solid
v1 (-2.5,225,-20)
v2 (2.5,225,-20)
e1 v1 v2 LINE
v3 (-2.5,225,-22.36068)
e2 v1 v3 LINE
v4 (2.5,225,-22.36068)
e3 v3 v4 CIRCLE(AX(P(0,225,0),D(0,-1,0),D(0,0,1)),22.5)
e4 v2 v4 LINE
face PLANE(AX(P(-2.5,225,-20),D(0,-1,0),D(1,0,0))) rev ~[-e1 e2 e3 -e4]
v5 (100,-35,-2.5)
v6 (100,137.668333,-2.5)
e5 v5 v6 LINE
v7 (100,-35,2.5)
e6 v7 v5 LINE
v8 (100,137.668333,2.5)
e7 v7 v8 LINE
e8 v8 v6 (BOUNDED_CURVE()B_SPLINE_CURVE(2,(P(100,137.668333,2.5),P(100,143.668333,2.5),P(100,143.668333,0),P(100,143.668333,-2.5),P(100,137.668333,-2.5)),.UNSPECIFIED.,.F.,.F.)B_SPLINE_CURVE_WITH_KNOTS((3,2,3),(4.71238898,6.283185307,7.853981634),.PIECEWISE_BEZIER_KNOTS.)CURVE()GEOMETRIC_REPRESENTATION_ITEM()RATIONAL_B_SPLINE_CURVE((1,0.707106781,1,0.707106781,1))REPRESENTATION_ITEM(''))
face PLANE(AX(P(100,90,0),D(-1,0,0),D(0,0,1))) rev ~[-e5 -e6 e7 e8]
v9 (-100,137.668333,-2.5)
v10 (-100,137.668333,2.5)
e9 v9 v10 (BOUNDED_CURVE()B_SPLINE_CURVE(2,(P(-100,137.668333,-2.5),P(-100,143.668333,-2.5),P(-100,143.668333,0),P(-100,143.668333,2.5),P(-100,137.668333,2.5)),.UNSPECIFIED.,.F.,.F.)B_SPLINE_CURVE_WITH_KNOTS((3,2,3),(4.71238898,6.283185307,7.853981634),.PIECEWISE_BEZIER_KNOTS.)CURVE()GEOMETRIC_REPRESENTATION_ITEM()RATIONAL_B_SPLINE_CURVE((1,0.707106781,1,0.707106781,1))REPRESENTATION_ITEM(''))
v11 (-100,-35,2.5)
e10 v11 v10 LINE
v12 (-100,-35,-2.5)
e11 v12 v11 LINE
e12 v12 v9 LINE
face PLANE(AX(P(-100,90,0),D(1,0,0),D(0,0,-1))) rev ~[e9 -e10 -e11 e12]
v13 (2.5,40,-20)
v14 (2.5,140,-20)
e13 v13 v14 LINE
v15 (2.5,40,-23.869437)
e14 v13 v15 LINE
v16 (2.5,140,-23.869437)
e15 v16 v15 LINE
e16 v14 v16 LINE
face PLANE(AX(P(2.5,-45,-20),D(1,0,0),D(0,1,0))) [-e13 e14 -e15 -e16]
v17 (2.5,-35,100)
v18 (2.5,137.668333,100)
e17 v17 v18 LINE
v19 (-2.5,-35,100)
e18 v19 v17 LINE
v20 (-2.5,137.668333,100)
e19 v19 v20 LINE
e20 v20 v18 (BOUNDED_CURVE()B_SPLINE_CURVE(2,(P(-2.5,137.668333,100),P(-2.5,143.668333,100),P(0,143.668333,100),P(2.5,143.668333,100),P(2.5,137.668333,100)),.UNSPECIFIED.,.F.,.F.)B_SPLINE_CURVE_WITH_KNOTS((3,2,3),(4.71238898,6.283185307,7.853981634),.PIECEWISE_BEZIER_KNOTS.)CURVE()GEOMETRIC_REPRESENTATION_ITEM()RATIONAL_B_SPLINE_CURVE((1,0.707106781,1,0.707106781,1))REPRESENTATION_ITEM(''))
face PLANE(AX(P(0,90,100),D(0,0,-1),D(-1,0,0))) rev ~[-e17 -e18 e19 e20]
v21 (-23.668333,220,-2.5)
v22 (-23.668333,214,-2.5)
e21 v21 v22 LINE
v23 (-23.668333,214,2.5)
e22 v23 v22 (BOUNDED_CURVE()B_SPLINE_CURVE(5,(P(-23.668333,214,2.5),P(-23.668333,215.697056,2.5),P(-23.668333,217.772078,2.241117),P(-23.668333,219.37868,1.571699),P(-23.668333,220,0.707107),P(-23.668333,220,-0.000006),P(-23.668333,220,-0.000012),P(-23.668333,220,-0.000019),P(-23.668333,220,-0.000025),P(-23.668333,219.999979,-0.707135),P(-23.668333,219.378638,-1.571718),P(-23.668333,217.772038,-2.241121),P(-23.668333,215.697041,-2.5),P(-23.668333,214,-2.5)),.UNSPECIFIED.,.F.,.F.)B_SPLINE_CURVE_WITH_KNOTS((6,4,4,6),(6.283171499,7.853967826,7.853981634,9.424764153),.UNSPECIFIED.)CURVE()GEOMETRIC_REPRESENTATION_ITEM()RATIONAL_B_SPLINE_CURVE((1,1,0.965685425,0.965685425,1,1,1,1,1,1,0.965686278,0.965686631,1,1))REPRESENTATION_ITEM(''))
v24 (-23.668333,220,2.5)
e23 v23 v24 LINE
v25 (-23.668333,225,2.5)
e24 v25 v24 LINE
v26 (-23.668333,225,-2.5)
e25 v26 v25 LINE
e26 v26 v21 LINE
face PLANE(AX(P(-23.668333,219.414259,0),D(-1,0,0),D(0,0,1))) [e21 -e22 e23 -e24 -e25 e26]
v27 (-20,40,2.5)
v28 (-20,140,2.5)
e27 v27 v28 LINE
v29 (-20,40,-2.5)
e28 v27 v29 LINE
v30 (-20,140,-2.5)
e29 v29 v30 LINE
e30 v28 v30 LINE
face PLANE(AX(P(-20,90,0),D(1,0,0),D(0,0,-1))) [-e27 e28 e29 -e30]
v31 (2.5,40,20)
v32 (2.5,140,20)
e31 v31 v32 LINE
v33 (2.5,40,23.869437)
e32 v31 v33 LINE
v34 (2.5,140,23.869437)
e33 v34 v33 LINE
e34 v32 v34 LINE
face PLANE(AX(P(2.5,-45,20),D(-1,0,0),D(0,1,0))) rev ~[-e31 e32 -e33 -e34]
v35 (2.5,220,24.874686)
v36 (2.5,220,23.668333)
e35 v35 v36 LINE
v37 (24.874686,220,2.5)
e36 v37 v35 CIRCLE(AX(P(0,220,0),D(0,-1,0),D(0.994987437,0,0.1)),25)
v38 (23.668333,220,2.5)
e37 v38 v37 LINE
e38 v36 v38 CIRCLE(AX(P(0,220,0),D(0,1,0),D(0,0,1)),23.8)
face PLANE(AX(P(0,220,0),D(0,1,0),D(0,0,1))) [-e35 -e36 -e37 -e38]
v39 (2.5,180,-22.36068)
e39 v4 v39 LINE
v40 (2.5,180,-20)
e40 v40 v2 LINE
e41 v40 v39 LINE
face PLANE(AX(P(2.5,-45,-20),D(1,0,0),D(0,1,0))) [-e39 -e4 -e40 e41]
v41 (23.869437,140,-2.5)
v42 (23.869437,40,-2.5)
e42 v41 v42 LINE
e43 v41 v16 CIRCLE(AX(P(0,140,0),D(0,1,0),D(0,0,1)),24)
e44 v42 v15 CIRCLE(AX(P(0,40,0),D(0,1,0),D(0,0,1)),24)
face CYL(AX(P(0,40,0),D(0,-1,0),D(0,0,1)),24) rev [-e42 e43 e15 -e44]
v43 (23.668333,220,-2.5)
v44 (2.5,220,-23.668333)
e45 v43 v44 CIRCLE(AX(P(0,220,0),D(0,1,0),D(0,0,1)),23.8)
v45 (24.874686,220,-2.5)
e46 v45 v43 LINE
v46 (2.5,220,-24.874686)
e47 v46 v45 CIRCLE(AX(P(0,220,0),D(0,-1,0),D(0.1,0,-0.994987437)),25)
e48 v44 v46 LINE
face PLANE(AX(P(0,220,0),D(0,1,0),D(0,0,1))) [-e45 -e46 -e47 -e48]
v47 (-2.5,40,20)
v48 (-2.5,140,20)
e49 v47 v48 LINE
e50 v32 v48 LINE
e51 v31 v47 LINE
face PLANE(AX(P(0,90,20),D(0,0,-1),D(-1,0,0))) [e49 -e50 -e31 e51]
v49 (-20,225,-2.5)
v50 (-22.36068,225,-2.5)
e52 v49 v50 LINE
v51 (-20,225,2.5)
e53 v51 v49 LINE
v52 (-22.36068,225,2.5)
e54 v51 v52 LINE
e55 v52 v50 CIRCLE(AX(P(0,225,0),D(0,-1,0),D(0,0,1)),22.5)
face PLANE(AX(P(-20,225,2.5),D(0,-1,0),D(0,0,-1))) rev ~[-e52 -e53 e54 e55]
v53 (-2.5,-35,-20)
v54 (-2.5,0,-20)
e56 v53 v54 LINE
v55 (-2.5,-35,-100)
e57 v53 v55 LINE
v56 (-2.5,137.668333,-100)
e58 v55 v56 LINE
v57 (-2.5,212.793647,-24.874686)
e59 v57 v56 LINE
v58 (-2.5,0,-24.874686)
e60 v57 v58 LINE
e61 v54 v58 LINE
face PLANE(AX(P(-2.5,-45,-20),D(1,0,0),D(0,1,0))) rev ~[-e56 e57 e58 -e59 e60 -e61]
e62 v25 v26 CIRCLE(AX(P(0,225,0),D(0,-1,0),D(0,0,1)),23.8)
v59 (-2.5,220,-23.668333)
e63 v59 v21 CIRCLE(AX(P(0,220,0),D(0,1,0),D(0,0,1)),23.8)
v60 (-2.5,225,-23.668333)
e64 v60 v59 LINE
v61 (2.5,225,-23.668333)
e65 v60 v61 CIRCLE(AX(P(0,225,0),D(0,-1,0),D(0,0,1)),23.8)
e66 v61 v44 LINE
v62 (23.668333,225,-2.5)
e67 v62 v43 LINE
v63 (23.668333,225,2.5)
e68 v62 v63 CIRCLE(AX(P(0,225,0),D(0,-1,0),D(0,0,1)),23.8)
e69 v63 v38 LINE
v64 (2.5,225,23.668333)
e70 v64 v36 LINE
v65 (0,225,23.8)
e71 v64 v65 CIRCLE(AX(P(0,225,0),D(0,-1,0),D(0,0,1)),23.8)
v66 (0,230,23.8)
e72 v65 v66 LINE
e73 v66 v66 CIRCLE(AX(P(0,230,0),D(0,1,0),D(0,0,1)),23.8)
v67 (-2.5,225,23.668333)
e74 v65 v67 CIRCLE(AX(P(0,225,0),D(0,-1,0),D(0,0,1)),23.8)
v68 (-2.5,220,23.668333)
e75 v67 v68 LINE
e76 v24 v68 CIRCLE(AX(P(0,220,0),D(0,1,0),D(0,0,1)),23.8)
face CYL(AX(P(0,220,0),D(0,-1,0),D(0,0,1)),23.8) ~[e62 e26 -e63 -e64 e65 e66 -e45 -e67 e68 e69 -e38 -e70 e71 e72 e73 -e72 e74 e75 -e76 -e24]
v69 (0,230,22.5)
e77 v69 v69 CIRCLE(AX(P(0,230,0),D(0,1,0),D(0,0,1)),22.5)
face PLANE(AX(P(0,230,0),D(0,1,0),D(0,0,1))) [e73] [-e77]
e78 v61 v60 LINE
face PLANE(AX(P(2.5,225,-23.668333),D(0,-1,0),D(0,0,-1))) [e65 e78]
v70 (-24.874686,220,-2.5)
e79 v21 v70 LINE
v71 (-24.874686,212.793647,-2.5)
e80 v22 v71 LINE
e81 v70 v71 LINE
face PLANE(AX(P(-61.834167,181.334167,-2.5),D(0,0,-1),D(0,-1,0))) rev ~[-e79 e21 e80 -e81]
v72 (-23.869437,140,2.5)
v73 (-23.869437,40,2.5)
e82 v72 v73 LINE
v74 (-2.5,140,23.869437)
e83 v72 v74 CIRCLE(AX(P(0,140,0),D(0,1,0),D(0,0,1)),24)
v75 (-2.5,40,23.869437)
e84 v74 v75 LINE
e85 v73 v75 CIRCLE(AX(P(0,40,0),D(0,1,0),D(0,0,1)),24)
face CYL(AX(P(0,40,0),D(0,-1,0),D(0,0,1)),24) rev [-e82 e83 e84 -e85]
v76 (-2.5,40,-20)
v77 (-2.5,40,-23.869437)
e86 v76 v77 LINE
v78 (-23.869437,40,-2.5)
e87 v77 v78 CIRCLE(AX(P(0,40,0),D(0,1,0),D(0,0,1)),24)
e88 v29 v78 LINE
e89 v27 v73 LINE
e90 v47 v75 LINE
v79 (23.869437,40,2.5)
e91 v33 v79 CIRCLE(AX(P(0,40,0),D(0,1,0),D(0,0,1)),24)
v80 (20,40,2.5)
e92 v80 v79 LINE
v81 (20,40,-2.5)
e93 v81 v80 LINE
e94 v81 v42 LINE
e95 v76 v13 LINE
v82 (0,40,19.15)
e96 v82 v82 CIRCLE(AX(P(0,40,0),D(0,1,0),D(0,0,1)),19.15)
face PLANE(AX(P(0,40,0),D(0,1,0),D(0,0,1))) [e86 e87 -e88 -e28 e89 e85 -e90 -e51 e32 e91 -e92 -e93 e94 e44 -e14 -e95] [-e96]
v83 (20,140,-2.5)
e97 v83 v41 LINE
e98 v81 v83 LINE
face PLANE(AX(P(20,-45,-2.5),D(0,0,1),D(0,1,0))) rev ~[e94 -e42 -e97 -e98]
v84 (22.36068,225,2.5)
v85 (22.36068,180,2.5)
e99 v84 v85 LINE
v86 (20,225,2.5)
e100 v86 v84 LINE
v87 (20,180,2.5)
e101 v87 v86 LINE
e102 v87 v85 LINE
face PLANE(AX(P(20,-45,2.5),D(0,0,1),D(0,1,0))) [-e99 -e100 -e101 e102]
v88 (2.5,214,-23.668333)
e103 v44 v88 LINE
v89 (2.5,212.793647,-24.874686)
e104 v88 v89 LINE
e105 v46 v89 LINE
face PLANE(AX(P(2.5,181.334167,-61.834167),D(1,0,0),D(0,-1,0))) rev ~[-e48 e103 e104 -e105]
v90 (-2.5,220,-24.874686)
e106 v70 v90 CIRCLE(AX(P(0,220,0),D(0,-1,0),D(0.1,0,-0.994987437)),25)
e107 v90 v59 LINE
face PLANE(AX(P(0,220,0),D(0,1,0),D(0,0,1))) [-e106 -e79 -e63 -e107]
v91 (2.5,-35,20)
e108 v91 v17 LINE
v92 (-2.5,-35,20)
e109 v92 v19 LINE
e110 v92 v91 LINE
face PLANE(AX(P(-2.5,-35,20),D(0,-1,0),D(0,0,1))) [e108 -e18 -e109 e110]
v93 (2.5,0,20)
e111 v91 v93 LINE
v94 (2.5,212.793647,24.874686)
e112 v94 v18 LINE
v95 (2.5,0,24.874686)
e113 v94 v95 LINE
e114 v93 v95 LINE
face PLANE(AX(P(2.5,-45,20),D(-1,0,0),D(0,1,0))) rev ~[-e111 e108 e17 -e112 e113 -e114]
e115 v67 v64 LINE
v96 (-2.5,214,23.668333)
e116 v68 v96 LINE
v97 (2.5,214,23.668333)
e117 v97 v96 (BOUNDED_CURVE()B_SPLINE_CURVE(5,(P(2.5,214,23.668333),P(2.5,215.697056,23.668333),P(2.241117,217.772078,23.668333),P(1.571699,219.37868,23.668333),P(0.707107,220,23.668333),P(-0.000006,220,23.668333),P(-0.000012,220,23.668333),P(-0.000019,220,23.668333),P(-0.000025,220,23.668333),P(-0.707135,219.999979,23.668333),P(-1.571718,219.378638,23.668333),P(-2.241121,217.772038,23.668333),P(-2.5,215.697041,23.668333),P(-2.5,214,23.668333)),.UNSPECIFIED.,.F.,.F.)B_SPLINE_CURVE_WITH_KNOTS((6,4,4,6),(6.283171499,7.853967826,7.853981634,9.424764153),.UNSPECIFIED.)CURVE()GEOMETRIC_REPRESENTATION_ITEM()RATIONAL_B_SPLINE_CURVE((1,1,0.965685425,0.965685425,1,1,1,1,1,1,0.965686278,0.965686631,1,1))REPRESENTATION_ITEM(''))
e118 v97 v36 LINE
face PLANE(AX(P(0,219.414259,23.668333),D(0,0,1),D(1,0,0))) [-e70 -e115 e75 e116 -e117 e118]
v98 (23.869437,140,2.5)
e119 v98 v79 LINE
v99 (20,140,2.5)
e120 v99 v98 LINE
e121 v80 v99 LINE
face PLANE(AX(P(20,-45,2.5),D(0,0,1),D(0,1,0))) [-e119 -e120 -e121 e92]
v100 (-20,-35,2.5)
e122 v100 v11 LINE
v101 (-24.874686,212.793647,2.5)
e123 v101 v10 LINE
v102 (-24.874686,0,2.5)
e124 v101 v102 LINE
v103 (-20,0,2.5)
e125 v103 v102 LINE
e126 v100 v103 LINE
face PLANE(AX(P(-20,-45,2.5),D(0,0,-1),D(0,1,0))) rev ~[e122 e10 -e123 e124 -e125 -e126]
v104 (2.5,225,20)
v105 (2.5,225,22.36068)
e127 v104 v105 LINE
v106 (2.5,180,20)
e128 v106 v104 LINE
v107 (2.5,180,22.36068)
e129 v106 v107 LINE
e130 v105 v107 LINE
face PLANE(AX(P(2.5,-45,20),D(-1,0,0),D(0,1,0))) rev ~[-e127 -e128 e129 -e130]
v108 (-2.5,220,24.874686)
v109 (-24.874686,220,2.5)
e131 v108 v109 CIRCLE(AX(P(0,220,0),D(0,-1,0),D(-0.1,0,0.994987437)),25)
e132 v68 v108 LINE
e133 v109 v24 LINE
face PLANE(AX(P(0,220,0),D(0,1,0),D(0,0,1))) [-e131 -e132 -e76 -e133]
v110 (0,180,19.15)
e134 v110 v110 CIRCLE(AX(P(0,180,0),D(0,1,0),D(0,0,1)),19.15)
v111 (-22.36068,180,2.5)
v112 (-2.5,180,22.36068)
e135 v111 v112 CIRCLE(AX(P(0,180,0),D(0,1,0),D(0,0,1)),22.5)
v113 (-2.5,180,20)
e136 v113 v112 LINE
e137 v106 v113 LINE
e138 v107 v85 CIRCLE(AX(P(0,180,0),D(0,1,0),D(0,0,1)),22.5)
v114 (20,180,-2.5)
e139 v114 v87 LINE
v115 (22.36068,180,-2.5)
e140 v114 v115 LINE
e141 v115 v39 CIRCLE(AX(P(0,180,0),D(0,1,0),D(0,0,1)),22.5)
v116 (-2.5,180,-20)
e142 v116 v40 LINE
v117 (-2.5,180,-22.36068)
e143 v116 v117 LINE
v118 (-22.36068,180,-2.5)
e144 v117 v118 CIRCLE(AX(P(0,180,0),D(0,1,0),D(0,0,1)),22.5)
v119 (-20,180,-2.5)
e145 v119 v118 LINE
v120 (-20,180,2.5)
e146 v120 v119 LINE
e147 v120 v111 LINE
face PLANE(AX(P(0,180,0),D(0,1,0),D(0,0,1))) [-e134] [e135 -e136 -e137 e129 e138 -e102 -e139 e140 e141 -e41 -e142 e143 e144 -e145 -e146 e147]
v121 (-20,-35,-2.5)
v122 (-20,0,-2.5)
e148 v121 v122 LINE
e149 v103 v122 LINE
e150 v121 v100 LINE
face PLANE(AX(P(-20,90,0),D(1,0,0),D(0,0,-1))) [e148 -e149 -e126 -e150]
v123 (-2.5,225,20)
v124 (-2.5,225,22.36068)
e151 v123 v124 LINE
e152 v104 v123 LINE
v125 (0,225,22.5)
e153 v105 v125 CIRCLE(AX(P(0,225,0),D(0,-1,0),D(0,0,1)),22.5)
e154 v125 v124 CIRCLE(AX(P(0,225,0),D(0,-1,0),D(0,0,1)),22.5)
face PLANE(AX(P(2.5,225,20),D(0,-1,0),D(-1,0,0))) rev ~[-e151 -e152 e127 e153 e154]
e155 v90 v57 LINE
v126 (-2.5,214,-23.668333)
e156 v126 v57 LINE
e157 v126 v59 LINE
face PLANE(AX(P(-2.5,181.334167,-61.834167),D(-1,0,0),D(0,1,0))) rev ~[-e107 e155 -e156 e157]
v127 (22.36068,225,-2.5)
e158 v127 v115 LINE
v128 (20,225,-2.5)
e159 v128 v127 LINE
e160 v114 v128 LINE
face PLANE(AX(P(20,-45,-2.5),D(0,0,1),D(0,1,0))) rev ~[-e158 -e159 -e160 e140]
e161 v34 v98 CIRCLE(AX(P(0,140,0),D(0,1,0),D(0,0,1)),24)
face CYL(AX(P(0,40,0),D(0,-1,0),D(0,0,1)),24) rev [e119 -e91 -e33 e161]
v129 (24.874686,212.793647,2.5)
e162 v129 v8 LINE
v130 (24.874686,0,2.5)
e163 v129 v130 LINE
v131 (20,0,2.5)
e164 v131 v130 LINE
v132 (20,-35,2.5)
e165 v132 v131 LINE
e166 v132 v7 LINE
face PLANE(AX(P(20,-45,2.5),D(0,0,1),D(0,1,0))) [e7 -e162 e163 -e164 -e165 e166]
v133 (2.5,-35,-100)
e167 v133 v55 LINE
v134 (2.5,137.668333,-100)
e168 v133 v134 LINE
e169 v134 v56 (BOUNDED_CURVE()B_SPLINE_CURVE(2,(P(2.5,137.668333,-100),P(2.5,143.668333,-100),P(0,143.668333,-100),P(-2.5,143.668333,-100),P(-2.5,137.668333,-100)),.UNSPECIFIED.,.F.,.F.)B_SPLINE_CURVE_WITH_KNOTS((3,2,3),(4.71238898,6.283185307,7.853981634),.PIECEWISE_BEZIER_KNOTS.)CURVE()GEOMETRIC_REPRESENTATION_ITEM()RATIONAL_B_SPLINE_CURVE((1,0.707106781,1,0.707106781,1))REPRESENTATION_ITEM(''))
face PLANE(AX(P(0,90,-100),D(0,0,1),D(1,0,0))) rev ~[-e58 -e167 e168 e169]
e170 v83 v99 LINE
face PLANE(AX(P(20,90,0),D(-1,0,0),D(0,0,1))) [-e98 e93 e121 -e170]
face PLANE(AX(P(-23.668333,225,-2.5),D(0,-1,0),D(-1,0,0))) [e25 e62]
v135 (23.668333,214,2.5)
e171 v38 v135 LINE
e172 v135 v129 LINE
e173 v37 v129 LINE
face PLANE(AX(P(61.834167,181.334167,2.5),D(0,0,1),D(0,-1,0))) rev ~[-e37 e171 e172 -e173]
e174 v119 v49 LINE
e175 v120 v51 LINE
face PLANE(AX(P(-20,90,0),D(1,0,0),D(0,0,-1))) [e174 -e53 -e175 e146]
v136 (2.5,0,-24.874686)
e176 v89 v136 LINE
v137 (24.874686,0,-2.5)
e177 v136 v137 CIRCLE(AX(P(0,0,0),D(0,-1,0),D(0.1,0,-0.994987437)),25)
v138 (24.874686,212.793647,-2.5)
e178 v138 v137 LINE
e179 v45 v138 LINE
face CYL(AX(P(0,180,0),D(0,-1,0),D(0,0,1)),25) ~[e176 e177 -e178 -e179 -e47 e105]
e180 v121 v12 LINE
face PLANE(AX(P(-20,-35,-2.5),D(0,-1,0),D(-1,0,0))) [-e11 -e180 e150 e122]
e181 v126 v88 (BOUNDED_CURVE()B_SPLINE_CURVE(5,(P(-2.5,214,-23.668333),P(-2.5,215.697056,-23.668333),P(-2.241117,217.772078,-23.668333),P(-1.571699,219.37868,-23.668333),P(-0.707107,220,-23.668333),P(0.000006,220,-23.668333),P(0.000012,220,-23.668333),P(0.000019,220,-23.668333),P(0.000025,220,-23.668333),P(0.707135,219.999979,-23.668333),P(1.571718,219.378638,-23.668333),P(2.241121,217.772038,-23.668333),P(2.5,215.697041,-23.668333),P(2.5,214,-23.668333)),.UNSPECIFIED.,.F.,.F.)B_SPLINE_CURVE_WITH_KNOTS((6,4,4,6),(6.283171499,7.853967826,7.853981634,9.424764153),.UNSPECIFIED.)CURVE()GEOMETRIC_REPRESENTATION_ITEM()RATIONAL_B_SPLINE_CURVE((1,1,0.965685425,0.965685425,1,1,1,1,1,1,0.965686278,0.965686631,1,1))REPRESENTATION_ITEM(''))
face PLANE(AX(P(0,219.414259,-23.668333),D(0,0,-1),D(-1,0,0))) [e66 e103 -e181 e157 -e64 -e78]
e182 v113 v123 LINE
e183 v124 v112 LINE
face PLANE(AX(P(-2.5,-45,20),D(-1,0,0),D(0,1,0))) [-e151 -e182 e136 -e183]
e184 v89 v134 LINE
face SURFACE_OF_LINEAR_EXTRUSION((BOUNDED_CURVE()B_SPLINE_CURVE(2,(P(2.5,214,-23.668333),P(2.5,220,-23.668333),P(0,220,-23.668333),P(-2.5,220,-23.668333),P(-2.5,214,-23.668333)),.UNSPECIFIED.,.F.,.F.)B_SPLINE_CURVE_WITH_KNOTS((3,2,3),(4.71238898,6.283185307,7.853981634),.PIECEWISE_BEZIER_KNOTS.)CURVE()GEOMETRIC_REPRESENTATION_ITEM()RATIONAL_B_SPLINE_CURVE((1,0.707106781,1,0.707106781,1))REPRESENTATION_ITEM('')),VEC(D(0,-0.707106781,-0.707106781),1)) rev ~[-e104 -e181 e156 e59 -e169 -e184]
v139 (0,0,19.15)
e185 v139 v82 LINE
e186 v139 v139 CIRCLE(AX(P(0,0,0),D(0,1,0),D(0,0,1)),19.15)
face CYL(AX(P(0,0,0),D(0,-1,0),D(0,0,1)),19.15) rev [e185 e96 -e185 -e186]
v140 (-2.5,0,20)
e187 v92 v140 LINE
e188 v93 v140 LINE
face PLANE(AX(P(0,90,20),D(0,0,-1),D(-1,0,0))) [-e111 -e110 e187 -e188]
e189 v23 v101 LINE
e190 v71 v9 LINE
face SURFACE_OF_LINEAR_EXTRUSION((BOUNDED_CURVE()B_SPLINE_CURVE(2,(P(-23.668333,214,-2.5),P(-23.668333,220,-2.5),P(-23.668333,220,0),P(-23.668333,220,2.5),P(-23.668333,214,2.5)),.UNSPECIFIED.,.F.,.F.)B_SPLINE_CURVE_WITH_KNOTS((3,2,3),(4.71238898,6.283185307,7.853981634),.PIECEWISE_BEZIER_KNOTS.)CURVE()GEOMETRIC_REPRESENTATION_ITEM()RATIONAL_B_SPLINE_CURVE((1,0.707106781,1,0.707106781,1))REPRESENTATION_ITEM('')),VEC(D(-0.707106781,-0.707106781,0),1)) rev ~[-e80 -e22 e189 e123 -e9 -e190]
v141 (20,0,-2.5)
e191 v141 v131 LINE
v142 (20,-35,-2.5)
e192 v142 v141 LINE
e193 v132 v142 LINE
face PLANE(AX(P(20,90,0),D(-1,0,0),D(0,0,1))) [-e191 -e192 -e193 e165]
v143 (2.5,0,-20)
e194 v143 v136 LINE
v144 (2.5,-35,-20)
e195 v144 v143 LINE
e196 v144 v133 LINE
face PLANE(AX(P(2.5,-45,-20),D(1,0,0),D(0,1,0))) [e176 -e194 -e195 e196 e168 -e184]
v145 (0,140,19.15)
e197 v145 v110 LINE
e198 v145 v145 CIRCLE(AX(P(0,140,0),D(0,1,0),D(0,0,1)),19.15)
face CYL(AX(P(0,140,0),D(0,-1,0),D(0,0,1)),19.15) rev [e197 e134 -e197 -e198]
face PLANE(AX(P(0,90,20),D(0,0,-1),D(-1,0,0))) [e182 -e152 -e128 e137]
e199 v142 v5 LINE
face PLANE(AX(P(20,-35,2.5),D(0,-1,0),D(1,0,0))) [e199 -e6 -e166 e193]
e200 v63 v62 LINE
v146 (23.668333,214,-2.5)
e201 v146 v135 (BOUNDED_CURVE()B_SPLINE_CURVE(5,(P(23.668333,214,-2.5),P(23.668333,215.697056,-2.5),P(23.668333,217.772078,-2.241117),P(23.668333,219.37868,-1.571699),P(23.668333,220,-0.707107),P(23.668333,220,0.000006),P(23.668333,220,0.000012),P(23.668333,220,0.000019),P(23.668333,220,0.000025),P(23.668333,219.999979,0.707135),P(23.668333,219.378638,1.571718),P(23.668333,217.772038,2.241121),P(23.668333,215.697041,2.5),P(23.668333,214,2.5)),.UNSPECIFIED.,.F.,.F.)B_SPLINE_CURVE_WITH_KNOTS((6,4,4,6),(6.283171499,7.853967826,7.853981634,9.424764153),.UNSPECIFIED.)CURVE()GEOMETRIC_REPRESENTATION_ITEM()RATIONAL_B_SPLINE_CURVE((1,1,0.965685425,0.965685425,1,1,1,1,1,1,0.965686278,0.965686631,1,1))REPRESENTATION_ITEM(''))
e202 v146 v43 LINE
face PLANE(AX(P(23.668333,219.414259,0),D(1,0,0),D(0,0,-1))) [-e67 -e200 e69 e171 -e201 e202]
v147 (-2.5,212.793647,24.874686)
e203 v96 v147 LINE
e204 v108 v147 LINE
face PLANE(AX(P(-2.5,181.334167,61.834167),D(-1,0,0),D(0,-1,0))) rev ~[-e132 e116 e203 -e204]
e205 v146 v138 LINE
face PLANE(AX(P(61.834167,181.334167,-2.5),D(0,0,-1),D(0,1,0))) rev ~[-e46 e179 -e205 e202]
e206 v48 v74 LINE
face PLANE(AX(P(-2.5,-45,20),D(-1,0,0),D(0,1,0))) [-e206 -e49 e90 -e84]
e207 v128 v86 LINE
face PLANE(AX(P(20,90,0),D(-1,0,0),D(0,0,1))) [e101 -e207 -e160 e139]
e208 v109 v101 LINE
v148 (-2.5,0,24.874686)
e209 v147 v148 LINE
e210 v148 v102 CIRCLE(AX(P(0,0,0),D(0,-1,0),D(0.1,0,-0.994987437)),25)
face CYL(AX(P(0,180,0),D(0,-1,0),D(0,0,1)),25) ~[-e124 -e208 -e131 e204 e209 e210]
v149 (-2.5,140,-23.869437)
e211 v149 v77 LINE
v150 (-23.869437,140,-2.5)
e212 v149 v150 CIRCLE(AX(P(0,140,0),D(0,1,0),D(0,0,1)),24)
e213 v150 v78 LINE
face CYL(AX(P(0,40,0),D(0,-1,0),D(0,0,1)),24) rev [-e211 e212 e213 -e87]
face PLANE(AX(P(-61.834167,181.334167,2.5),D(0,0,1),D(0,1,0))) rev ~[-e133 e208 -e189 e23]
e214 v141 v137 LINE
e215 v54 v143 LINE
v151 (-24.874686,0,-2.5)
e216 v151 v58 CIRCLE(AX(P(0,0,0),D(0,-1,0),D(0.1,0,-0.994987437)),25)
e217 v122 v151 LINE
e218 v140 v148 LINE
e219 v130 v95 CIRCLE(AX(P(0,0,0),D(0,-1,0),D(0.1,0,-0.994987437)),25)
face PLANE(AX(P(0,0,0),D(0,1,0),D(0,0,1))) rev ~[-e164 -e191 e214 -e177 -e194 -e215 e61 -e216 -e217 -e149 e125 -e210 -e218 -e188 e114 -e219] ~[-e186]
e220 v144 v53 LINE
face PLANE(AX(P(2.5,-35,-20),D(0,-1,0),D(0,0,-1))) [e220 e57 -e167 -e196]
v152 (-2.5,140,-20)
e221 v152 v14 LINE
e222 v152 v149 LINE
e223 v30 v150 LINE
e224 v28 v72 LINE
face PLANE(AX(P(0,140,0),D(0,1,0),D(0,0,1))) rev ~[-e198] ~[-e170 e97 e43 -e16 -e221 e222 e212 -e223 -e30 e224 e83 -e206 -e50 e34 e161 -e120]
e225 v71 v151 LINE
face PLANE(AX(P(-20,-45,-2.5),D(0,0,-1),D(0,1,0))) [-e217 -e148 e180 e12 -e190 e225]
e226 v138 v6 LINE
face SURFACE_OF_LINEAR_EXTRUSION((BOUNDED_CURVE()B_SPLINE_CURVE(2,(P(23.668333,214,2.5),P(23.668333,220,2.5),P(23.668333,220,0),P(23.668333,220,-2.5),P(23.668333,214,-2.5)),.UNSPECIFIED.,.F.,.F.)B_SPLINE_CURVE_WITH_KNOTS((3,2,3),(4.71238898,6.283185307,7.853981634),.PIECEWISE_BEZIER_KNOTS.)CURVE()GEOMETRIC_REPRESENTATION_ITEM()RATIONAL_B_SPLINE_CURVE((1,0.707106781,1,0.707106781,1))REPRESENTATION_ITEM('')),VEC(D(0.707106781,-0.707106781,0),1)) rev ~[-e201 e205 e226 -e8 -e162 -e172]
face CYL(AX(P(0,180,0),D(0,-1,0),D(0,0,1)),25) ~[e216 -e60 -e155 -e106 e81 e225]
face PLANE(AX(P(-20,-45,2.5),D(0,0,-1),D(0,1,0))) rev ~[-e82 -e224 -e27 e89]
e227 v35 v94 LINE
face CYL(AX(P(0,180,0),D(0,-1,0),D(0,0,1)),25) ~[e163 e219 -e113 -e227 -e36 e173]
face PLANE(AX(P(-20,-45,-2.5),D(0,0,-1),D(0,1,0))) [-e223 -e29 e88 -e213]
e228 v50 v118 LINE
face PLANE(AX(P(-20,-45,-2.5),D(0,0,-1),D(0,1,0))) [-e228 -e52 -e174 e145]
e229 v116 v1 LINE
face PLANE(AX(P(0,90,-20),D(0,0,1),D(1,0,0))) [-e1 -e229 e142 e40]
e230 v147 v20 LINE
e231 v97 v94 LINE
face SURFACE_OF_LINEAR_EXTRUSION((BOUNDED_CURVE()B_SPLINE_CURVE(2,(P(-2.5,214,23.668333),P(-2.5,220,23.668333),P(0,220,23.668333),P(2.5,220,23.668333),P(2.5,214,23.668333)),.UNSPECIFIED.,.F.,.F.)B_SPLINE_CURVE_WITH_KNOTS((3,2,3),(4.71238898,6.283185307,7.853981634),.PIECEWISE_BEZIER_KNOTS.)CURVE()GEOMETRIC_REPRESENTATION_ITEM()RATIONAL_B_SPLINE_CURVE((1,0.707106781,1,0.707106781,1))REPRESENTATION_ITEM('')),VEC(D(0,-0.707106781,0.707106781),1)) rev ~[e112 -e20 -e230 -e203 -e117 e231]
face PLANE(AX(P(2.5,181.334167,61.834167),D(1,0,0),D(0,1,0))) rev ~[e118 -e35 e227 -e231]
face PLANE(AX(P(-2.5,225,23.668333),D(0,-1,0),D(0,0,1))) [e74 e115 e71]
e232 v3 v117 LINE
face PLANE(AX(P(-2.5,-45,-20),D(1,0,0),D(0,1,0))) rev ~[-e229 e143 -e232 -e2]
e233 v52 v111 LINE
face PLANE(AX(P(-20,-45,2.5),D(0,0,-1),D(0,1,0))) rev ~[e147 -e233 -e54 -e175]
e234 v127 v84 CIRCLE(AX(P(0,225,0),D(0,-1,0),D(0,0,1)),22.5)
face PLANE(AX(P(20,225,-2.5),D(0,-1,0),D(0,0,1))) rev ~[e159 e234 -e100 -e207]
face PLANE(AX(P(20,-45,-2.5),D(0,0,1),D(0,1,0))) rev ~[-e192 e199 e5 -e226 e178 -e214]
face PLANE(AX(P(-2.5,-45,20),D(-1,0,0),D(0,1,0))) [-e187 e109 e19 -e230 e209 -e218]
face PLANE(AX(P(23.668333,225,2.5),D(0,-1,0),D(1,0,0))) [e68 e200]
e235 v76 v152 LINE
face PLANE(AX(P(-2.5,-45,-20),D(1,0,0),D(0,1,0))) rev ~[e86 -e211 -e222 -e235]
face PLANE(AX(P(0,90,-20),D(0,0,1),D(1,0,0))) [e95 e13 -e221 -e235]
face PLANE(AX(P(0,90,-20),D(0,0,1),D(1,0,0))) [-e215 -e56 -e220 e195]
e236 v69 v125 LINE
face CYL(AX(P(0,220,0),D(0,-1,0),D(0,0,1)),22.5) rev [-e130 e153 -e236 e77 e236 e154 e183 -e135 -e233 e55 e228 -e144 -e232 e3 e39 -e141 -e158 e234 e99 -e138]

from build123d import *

# Parameters (mm, degrees)
SKETCH_1_R               = 25
SKETCH_1_R_2             = 19.15
EXTRUDE_1_DEPTH          = 40
SKETCH_2_R               = 25
SKETCH_2_R_2             = 24
EXTRUDE_2_DEPTH          = 100
SKETCH_4_R               = 25
SKETCH_4_R_2             = 19.15
EXTRUDE_3_DEPTH          = 40
SKETCH_5_R               = 25
SKETCH_5_R_2             = 22.5
EXTRUDE_4_DEPTH          = 40
SKETCH_6_R               = 23.8
SKETCH_6_R_2             = 22.5
EXTRUDE_5_DEPTH          = 10
EXTRUDE_START            = -20
SKETCH_8_W               = 5
SKETCH_8_H               = 270
EXTRUDE_6_DEPTH          = 80
SKETCH_10_W              = 80
SKETCH_10_H              = 10
CUT_EXTRUDE_2_DEPTH      = 80
CUT_EXTRUDE_3_DEPTH      = 80
PATTERN_CIRCULAR_1_COUNT = 4


with BuildPart() as part:
    # Эскиз1 → Бобышка-Вытянуть1 (new body)
    with BuildSketch(Plane(origin=(0, 0, 0), x_dir=(1, 0, 0), z_dir=(0, 1, 0))):
        with Locations(Location((0, 0, 0), (0, 0, 270))):
            Circle(SKETCH_1_R)
        with Locations(Location((0, 0, 0), (0, 0, 270))):
            Circle(SKETCH_1_R_2, mode=Mode.SUBTRACT)
    extrude(amount=EXTRUDE_1_DEPTH)

    # Эскиз2 → Бобышка-Вытянуть2 (add)
    with BuildSketch(Plane(origin=(0, 40, 0), x_dir=(1, 0, 0), z_dir=(0, 1, 0))):
        with Locations(Location((0, 0, 0), (0, 0, 270))):
            Circle(SKETCH_2_R)
        with Locations(Location((0, 0, 0), (0, 0, 270))):
            Circle(SKETCH_2_R_2, mode=Mode.SUBTRACT)
    extrude(amount=EXTRUDE_2_DEPTH)

    # Эскиз4 → Бобышка-Вытянуть3 (add)
    with BuildSketch(Plane(origin=(0, 140, 0), x_dir=(1, 0, 0), z_dir=(0, 1, 0))):
        with Locations(Location((0, 0, 0), (0, 0, 270))):
            Circle(SKETCH_4_R)
        with Locations(Location((0, 0, 0), (0, 0, 270))):
            Circle(SKETCH_4_R_2, mode=Mode.SUBTRACT)
    extrude(amount=EXTRUDE_3_DEPTH)

    # Эскиз5 → Бобышка-Вытянуть4 (add)
    with BuildSketch(Plane(origin=(0, 180, 0), x_dir=(1, 0, 0), z_dir=(0, 1, 0))):
        with Locations(Location((0, 0, 0), (0, 0, 270))):
            Circle(SKETCH_5_R)
        with Locations(Location((0, 0, 0), (0, 0, 270))):
            Circle(SKETCH_5_R_2, mode=Mode.SUBTRACT)
    extrude(amount=EXTRUDE_4_DEPTH)

    # Эскиз6 → Бобышка-Вытянуть5 (add)
    with BuildSketch(Plane(origin=(0, 220, 0), x_dir=(1, 0, 0), z_dir=(0, 1, 0))):
        with Locations(Location((0, 0, 0), (0, 0, 270))):
            Circle(SKETCH_6_R)
        with Locations(Location((0, 0, 0), (0, 0, 270))):
            Circle(SKETCH_6_R_2, mode=Mode.SUBTRACT)
    extrude(amount=EXTRUDE_5_DEPTH)

    # Эскиз8 → Бобышка-Вытянуть6 (add)
    with BuildSketch(Plane.XY.offset(EXTRUDE_START)):
        with Locations((0, 90)):
            Rectangle(SKETCH_8_W, SKETCH_8_H)
    extrude_6 = extrude(amount=-EXTRUDE_6_DEPTH)

    # Эскиз10 → Вырез-Вытянуть2 (cut)
    with BuildSketch(Plane(origin=(2.5, 0, 0), x_dir=(0, 0, -1), z_dir=(1, 0, 0))):
        with Locations((60, -40)):
            Rectangle(SKETCH_10_W, SKETCH_10_H)
    cut_extrude_2 = extrude(amount=-CUT_EXTRUDE_2_DEPTH, mode=Mode.SUBTRACT)

    # Эскиз12 → Вырез-Вытянуть3 (cut)
    with BuildSketch(Plane(origin=(2.5, 0, 0), x_dir=(0, 0, -1), z_dir=(1, 0, 0))):
        Polygon((24.874685928, 220), (23.668333275, 220), (23.668333275, 225), (100, 225), (100, 144.874685928), align=None)
    cut_extrude_3 = extrude(amount=-CUT_EXTRUDE_3_DEPTH, mode=Mode.SUBTRACT)

    # Вырез-По траектории10: sweep along a path in Эскиз13
    with BuildLine(Plane(origin=(0, 122.437342964, -122.437342964), x_dir=(1, 0, 0), z_dir=(0, 0.7071067811865489, -0.7071067811865462))) as sweep_10_path:
        Line((0, -139.680473045), (0, -31.731194723))
    # Эскиз14 → Вырез-По траектории10 (sweep, cut)
    with BuildSketch(Plane(origin=(0, 0, -23.668333275), x_dir=(-1, 0, 0), z_dir=(0, 0, -1))):
        with BuildLine():
            Line((-2.5, 214), (-2.5, 220))
            Line((-2.5, 220), (-2.5, 225))
            Line((-2.5, 225), (2.5, 225))
            Line((2.5, 225), (2.5, 220))
            Line((2.5, 220), (2.5, 214))
            add(Edge.make_bspline(
                [(2.5, 214), (2.5, 220), (0, 220), (-2.5, 220), (-2.5, 214)],
                knots=[4.71238898, 4.71238898, 4.71238898, 6.283185307, 6.283185307, 7.853981634, 7.853981634, 7.853981634], degree=2, weights=[1, 0.707106781, 1, 0.707106781, 1]))
        make_face()
    sweep_10 = sweep(path=sweep_10_path.line, mode=Mode.SUBTRACT)

    # Круговой массив1: Бобышка-Вытянуть6, Вырез-Вытянуть2, Вырез-Вытянуть3, Вырез-По траектории10 ×4 about axis
    pattern_circular_1_axis = Axis((0, 40, 0), (0, -1, 0))
    add([extrude_6.rotate(pattern_circular_1_axis, i * 360 / PATTERN_CIRCULAR_1_COUNT) for i in range(1, PATTERN_CIRCULAR_1_COUNT)])
    add([cut_extrude_2.rotate(pattern_circular_1_axis, i * 360 / PATTERN_CIRCULAR_1_COUNT) for i in range(1, PATTERN_CIRCULAR_1_COUNT)], mode=Mode.SUBTRACT)
    add([cut_extrude_3.rotate(pattern_circular_1_axis, i * 360 / PATTERN_CIRCULAR_1_COUNT) for i in range(1, PATTERN_CIRCULAR_1_COUNT)], mode=Mode.SUBTRACT)
    add([sweep_10.rotate(pattern_circular_1_axis, i * 360 / PATTERN_CIRCULAR_1_COUNT) for i in range(1, PATTERN_CIRCULAR_1_COUNT)], mode=Mode.SUBTRACT)


solid = part.part
